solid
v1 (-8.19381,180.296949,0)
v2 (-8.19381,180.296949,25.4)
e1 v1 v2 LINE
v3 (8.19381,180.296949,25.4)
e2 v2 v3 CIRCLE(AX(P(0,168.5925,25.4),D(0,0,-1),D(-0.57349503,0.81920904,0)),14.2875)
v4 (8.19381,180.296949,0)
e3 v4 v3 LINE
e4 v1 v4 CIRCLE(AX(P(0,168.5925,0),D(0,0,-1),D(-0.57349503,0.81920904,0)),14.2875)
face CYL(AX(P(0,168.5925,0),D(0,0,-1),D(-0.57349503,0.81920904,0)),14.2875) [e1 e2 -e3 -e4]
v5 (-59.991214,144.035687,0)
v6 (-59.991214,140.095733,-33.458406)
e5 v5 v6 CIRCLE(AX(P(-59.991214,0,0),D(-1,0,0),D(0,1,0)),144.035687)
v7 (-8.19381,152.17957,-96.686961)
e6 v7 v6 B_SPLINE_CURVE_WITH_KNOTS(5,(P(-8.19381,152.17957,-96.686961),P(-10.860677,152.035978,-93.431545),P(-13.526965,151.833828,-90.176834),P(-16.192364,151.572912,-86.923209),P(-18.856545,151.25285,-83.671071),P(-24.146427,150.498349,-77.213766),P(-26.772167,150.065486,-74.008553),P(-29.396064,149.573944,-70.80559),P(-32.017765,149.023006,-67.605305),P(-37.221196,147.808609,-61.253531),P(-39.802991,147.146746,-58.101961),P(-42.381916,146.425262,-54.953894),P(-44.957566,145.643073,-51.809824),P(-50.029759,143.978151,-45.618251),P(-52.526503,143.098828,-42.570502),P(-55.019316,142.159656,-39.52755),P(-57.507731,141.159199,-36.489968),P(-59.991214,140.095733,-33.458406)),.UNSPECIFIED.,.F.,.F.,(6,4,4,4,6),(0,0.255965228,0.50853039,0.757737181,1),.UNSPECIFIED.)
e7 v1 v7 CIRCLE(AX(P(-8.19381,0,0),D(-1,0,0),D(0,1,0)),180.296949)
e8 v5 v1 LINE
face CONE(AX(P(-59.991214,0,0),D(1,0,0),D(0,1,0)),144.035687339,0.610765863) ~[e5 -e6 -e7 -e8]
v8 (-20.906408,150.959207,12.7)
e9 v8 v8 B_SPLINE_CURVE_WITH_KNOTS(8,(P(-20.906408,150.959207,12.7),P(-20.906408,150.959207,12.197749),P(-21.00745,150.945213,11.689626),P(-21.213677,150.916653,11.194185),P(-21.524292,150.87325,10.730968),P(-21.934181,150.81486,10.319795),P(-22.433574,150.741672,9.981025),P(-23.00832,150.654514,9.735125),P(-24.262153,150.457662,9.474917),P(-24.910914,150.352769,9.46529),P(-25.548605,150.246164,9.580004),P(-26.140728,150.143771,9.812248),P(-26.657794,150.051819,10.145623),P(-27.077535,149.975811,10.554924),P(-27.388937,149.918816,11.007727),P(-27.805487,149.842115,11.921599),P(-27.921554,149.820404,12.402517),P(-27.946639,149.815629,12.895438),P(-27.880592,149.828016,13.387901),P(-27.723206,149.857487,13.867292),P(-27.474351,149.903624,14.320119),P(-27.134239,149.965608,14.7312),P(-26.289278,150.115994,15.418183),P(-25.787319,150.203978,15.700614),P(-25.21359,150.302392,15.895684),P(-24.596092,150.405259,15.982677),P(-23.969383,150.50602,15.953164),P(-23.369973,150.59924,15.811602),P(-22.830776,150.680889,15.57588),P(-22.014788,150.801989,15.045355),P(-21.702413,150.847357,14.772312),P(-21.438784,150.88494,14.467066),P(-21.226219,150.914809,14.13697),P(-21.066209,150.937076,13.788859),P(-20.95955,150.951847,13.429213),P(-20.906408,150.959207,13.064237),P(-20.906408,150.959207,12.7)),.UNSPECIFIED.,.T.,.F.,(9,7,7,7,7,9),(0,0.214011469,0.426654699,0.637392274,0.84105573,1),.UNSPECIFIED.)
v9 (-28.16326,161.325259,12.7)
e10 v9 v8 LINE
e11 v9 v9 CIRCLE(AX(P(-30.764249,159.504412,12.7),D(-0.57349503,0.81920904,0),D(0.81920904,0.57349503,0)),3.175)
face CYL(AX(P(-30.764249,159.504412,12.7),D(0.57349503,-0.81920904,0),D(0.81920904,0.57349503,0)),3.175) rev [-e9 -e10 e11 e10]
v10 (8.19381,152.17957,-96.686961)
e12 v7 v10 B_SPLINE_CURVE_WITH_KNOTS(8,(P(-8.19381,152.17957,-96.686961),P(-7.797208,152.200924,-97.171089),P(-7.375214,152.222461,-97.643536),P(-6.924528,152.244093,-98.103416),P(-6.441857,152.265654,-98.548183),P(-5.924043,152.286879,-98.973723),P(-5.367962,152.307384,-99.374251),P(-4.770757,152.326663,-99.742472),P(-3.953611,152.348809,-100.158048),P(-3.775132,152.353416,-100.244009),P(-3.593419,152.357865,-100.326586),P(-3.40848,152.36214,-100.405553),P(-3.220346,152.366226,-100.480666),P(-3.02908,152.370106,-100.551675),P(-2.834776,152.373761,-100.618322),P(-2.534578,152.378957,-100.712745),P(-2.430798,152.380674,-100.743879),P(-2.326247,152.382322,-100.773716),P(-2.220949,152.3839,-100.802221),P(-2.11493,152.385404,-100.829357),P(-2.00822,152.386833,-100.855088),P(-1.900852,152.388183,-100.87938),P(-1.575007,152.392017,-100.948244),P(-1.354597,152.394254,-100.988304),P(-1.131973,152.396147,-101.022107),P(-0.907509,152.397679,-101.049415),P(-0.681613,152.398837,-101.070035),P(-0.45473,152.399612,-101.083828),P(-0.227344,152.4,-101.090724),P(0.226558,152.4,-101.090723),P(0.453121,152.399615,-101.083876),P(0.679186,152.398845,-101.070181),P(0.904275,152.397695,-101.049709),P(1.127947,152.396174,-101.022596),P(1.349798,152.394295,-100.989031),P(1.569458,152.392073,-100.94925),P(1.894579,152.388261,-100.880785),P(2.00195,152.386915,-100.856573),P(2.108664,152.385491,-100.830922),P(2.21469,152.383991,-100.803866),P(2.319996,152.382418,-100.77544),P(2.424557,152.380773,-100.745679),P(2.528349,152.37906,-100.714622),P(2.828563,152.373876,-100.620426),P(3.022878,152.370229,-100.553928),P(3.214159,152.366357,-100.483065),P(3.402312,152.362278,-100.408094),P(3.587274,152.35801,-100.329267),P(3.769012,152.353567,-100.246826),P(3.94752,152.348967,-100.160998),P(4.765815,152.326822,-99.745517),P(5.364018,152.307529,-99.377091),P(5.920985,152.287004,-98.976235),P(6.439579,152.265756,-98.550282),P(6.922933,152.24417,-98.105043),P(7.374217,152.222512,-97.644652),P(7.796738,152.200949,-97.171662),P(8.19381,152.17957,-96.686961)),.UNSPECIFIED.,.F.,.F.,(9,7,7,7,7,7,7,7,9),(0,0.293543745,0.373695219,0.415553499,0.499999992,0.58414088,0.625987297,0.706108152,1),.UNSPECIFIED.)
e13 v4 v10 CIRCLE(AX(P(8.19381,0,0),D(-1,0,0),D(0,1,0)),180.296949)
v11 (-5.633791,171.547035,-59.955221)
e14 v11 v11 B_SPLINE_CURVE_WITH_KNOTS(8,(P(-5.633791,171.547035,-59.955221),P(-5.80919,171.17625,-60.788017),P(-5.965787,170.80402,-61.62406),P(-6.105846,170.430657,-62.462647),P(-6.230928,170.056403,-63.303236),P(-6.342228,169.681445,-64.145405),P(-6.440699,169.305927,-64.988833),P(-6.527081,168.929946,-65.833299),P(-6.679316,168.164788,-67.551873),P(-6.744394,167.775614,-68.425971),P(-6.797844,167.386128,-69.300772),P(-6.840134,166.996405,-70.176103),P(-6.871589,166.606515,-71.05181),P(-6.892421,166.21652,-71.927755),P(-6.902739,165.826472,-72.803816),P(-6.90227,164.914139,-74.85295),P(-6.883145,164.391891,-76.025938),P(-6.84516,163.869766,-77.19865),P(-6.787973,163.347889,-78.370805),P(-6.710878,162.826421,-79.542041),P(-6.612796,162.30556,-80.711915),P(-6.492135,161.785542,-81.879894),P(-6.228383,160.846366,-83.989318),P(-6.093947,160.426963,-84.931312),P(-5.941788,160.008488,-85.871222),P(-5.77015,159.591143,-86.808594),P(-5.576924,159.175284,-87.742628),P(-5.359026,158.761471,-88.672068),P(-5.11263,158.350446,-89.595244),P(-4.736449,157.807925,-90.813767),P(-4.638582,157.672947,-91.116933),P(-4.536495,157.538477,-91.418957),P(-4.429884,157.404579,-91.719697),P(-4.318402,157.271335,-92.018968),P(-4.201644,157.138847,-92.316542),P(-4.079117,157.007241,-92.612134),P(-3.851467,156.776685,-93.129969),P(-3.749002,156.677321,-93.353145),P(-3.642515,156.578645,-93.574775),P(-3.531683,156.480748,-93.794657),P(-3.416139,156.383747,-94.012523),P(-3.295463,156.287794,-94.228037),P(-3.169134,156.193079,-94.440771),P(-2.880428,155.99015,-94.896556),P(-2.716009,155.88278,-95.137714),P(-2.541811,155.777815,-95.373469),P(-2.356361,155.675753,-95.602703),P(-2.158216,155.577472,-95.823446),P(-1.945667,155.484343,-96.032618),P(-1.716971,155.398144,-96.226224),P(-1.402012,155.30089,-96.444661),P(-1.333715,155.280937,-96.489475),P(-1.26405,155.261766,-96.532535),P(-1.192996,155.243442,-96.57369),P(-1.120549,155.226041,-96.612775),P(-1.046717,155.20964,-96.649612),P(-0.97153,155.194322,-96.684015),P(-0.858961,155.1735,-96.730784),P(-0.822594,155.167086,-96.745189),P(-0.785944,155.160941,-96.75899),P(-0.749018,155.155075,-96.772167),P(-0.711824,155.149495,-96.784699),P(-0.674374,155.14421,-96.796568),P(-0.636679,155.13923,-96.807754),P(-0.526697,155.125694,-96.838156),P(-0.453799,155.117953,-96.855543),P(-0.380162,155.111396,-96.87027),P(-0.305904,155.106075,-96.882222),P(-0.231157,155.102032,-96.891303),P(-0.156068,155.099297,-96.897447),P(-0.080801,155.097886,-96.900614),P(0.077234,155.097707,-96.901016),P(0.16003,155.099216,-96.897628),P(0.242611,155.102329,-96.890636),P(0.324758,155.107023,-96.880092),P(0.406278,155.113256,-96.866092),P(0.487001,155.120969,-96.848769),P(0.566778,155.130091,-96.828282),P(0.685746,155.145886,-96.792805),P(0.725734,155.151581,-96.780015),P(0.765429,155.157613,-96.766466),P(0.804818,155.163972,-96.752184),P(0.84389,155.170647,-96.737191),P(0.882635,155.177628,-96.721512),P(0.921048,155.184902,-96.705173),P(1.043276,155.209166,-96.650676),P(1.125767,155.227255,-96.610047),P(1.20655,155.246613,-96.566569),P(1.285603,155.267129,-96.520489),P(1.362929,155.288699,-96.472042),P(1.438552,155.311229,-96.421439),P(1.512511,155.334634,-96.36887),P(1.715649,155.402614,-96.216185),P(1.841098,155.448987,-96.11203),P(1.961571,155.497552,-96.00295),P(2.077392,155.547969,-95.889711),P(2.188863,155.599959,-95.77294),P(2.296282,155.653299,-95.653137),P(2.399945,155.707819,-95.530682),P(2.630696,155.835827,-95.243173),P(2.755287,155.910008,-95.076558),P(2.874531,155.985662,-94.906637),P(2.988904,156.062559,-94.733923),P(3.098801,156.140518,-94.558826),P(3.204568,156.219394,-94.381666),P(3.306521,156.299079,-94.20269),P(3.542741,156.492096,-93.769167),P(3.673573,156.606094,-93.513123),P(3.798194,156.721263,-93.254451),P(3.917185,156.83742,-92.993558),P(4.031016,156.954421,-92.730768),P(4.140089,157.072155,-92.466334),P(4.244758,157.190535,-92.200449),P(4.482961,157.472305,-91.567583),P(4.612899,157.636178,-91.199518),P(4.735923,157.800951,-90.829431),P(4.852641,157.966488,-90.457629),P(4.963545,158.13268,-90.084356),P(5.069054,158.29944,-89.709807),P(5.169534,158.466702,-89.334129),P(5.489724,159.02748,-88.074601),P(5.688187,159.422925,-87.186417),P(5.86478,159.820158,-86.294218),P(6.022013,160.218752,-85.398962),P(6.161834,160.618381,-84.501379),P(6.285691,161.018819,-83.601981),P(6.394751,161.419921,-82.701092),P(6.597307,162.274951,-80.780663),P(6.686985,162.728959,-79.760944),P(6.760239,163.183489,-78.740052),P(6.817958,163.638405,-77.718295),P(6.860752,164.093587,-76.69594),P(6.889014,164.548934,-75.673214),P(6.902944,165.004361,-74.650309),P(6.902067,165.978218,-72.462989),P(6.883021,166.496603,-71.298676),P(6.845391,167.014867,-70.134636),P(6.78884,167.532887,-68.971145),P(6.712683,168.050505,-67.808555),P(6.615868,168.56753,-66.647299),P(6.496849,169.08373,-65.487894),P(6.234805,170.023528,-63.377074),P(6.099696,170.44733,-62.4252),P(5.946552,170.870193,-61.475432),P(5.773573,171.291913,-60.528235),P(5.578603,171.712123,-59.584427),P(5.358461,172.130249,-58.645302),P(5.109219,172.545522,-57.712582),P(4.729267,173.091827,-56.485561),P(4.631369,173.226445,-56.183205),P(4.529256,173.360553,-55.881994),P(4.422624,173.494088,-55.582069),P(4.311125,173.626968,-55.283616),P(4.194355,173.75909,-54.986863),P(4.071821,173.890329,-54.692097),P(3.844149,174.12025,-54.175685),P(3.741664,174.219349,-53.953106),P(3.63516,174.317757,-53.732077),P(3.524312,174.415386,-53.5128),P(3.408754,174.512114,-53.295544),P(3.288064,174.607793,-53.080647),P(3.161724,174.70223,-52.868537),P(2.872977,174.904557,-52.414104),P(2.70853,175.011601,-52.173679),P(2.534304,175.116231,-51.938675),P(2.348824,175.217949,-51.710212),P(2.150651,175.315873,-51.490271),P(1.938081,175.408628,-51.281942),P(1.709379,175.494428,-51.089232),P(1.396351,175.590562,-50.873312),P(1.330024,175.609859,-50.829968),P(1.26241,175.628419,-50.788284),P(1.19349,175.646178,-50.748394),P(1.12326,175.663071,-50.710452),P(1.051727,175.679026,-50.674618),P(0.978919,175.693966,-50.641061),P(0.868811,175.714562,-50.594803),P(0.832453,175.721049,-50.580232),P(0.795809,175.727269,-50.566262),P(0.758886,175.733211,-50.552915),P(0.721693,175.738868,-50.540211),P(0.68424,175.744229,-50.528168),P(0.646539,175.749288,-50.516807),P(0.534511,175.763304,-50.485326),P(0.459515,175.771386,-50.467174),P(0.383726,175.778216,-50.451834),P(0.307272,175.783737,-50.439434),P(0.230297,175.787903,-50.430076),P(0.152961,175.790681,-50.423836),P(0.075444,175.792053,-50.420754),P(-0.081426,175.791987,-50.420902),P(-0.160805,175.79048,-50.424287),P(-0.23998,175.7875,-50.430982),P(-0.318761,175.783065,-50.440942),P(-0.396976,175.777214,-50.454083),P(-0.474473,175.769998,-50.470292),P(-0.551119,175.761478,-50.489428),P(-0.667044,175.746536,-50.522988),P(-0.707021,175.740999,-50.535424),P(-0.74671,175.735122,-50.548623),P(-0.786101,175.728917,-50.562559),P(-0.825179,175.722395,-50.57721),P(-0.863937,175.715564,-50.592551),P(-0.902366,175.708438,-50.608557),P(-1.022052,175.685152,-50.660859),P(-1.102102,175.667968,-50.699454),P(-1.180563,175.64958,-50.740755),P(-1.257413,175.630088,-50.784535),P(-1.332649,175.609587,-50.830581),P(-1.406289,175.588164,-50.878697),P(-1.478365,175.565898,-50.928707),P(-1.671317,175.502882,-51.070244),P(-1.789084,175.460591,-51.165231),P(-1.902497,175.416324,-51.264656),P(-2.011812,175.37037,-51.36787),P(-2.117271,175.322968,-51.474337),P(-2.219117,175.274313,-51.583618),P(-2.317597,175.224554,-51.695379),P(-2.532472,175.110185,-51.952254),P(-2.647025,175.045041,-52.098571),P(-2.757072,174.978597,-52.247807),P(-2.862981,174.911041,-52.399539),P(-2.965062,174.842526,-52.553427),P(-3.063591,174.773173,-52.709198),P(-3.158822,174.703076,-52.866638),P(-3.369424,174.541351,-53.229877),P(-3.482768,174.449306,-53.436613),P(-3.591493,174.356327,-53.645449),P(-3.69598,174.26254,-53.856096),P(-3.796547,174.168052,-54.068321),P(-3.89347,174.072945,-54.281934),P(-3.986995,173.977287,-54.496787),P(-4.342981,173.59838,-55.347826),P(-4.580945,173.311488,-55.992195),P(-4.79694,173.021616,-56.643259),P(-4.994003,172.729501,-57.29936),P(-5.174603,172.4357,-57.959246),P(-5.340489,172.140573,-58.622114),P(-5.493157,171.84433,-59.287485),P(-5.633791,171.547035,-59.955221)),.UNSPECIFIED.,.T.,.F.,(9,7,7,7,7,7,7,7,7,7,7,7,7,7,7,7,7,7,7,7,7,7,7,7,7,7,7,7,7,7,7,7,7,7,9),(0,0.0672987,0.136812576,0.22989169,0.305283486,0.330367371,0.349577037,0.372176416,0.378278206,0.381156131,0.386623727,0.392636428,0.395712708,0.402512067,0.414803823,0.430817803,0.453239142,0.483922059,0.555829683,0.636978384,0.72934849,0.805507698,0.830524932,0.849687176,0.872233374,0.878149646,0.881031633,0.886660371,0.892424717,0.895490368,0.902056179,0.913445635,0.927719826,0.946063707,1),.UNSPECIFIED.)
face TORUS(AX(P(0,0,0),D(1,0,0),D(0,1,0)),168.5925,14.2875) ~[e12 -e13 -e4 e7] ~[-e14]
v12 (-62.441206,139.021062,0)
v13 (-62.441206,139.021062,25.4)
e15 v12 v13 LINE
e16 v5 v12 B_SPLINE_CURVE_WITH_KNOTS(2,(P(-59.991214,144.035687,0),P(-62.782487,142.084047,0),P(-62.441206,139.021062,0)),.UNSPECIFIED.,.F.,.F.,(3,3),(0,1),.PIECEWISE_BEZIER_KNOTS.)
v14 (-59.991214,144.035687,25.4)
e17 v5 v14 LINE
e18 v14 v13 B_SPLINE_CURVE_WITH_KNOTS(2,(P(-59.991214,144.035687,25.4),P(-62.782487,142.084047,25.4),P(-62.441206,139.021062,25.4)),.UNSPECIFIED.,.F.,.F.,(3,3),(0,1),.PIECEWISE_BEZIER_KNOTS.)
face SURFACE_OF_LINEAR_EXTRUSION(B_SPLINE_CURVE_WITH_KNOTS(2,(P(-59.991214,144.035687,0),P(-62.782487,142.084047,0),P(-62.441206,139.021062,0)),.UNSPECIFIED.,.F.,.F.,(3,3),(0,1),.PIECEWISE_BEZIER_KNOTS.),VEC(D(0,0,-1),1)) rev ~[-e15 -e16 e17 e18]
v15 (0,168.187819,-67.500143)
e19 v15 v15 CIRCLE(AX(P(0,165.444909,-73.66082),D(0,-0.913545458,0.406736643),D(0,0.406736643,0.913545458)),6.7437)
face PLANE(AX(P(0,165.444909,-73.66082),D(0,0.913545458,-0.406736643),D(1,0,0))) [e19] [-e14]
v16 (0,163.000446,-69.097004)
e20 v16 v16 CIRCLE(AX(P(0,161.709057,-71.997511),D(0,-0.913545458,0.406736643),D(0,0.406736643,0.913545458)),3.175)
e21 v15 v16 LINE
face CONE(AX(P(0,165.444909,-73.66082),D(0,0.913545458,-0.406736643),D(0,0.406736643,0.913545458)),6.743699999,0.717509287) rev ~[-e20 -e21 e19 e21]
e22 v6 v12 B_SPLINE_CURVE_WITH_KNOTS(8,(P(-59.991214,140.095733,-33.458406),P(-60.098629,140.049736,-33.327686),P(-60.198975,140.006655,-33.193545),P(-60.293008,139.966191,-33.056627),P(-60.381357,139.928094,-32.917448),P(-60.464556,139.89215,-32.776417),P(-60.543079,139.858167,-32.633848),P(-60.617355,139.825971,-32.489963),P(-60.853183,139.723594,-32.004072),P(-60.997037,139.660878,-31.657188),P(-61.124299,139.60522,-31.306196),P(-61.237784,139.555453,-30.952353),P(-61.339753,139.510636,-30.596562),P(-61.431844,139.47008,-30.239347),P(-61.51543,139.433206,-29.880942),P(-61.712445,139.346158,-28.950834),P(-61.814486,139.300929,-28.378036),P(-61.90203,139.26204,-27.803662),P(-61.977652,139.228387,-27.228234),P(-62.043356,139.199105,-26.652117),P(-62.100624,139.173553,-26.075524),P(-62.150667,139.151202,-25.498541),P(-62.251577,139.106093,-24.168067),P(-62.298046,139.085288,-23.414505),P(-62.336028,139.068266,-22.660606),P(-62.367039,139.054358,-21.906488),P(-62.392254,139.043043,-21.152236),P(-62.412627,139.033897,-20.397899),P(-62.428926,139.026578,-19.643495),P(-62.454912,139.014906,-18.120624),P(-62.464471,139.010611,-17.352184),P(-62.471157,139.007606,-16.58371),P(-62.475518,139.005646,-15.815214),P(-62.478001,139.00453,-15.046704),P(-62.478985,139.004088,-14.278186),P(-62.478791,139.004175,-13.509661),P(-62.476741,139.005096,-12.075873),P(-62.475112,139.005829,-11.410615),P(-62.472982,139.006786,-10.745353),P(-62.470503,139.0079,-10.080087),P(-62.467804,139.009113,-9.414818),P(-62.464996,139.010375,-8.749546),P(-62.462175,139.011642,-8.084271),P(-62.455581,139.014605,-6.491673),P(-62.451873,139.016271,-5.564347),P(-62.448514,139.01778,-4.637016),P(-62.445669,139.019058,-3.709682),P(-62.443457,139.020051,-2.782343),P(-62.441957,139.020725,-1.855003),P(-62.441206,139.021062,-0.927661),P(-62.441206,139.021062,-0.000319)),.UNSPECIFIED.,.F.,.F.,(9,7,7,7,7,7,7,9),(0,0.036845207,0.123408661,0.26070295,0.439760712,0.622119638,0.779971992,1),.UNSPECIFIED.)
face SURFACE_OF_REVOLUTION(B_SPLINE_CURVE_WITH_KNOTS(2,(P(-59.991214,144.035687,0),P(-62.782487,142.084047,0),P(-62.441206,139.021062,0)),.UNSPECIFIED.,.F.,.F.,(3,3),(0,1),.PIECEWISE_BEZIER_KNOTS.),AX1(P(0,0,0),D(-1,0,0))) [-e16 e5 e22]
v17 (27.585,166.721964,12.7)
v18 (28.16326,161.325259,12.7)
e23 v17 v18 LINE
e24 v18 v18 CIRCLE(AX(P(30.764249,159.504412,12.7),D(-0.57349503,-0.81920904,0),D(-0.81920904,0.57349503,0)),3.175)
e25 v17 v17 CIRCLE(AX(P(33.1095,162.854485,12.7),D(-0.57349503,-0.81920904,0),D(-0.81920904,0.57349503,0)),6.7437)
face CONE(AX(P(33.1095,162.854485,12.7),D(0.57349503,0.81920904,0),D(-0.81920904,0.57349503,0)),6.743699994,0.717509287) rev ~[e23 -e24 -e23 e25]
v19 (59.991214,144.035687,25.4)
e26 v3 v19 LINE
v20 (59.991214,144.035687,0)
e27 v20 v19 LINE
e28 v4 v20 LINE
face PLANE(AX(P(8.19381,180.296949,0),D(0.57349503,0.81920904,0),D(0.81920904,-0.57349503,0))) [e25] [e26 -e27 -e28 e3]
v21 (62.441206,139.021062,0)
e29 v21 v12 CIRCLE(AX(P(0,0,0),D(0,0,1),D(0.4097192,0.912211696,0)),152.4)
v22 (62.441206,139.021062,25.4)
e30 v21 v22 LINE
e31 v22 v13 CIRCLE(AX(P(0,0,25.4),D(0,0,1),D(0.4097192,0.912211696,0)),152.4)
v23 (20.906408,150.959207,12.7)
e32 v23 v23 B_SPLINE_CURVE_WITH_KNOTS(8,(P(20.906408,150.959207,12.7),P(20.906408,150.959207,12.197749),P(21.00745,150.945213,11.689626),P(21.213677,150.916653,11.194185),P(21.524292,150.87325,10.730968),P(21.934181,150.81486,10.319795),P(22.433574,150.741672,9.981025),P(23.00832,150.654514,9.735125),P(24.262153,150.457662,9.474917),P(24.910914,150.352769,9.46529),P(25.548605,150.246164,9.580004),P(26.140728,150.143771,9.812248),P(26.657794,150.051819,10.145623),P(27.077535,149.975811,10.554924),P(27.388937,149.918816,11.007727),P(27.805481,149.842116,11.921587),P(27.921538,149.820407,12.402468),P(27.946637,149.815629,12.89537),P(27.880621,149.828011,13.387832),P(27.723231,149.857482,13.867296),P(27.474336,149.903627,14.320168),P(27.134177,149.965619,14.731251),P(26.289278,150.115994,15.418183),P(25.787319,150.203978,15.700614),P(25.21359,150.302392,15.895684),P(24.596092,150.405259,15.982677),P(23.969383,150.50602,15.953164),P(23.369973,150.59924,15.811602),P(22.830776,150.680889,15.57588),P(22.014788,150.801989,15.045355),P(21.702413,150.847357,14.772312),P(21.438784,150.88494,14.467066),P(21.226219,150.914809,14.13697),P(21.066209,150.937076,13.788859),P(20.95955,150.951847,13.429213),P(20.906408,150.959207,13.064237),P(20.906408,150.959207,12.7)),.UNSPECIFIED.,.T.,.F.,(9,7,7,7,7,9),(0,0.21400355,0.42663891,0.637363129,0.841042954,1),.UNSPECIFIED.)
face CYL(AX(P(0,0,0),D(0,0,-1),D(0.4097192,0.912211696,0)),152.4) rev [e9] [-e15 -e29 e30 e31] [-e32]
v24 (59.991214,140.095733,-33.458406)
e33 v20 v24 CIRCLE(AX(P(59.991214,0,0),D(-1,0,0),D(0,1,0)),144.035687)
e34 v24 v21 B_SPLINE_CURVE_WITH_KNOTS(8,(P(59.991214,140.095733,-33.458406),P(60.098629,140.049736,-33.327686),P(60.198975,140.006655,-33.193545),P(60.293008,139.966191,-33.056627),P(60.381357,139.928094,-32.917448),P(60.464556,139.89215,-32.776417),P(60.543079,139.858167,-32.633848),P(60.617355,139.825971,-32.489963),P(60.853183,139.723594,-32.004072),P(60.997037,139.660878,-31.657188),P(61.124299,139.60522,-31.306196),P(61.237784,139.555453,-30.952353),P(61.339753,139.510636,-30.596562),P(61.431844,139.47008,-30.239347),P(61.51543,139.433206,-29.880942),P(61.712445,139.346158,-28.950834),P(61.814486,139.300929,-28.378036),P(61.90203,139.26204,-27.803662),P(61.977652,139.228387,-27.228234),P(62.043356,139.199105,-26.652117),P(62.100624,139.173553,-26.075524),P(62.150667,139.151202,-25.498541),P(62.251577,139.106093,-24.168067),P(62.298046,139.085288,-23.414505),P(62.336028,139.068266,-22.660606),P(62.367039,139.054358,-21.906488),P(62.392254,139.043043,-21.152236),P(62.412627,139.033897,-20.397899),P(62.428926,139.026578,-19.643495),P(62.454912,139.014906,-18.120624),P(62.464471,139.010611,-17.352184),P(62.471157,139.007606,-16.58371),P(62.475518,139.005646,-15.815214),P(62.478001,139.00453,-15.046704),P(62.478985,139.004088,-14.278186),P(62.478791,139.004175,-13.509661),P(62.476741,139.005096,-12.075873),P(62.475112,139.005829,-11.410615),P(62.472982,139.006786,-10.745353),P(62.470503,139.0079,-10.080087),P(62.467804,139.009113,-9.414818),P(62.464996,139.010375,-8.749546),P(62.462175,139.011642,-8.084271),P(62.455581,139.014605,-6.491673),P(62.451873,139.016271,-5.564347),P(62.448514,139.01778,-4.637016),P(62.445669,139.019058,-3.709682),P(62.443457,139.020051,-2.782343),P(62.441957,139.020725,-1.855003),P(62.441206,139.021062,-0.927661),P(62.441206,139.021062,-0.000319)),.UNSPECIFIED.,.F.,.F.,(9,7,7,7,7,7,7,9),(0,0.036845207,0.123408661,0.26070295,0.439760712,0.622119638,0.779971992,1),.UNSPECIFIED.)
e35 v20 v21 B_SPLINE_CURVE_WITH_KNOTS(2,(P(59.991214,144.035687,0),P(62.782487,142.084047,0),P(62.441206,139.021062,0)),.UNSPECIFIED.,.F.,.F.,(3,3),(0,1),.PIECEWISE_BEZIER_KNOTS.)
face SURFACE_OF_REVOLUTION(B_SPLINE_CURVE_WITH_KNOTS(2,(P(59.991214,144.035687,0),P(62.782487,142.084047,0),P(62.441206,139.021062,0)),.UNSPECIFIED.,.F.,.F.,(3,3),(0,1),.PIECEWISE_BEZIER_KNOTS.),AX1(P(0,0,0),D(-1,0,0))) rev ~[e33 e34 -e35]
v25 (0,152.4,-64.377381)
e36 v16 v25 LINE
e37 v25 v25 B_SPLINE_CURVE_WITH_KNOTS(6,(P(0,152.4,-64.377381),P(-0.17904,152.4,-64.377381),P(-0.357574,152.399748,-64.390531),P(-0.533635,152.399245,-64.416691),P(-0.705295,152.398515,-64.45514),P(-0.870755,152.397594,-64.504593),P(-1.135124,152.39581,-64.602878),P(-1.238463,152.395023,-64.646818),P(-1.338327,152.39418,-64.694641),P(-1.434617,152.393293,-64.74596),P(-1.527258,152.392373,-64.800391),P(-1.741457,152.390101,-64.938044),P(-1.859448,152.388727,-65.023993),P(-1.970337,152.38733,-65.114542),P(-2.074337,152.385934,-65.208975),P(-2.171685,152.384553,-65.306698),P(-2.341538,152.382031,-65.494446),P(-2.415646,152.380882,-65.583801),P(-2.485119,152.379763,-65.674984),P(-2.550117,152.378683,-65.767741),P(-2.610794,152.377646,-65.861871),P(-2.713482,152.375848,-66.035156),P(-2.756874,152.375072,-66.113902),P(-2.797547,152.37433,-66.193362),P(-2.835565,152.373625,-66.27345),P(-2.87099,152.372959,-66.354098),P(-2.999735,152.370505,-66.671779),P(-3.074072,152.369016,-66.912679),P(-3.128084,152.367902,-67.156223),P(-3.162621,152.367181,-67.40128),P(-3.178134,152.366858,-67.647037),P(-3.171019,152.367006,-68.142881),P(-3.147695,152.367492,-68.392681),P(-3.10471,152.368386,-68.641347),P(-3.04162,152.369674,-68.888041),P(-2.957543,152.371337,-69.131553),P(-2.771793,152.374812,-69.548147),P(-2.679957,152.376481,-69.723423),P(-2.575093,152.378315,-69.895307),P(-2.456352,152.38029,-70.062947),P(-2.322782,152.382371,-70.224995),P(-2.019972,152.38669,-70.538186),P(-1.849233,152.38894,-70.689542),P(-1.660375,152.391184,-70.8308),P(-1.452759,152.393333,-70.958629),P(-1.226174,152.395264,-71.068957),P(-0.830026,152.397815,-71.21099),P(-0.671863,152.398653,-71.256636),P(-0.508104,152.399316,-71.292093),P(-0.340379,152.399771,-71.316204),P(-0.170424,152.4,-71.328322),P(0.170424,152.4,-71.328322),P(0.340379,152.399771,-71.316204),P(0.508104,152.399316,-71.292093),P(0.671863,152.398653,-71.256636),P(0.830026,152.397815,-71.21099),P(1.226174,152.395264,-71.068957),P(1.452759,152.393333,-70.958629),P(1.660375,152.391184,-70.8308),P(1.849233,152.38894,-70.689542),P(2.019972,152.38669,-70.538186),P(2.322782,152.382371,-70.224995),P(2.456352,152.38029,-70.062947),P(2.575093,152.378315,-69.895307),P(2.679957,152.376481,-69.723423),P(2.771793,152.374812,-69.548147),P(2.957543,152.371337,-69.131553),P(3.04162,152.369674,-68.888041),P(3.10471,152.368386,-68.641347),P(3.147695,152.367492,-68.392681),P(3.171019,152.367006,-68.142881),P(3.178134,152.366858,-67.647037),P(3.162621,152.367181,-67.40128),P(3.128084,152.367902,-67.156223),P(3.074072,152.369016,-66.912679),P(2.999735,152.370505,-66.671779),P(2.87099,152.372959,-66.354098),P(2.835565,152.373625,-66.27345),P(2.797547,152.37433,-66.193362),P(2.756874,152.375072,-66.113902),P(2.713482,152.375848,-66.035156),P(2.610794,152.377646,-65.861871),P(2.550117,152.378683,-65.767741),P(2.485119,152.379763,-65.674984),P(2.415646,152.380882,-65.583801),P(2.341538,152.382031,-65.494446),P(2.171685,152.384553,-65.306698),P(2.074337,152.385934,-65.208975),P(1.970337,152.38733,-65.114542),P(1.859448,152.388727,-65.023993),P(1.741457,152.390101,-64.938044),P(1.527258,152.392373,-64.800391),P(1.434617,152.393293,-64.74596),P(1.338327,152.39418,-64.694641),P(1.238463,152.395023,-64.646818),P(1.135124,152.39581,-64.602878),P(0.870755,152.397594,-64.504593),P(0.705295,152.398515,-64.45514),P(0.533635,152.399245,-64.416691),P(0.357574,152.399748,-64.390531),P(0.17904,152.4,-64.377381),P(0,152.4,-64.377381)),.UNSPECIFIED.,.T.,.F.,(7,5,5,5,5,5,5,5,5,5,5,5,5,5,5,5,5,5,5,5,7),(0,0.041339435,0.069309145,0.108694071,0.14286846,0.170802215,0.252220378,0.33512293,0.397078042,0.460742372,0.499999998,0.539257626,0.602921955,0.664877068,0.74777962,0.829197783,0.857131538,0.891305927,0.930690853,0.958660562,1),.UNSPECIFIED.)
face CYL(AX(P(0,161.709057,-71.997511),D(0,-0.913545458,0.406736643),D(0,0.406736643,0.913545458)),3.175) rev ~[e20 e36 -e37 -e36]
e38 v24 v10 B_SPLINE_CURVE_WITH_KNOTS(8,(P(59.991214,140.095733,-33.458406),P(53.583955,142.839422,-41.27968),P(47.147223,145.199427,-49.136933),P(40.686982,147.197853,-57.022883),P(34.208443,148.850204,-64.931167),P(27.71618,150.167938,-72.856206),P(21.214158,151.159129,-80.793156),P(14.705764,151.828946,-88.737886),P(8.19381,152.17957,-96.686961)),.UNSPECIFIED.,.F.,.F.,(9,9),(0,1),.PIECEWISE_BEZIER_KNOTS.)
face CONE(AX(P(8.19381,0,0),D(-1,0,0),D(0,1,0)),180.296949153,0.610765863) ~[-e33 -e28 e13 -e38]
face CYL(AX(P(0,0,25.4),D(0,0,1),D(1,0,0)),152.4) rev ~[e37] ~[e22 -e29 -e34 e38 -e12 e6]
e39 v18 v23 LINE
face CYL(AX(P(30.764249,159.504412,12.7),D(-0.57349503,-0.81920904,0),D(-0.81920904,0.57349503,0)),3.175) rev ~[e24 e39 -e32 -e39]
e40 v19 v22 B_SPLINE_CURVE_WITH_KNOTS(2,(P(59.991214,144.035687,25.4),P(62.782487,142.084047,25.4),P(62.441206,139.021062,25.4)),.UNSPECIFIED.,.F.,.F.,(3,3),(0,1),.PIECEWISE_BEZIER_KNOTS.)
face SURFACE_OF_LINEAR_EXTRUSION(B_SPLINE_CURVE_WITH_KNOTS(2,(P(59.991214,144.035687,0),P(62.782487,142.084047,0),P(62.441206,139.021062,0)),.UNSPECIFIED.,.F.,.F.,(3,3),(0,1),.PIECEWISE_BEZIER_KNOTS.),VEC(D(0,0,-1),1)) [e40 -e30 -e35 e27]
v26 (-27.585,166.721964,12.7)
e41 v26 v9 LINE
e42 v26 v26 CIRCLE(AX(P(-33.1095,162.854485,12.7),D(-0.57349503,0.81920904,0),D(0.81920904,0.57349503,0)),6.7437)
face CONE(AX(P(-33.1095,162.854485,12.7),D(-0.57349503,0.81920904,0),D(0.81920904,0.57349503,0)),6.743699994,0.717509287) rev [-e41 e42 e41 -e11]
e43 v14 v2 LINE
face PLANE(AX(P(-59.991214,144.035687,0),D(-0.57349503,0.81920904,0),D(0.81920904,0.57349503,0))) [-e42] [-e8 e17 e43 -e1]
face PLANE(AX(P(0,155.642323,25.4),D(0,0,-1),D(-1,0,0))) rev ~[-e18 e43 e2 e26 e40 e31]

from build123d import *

# Parameters (mm, degrees)
REVOLVE1_ANGLE      = 57
BOSS_EXTRUDE1_DEPTH = 25.4
SKETCH8_R           = 152.4
CUT_EXTRUDE3_DEPTH  = 257.048
SKETCH13_W          = 16.387620484
SKETCH13_H          = 127
CUT_EXTRUDE5_DEPTH  = 1.778


with BuildPart() as part:
    # Sketch1 → Revolve1 (revolve)
    with BuildSketch(Plane.XY):
        with BuildLine():
            Line((-59.991213716, 144.035687339), (-8.193810242, 180.296949153))
            ThreePointArc((-8.193810242, 180.296949153), (0, 182.88), (8.193810242, 180.296949153))
            Line((8.193810242, 180.296949153), (59.991213716, 144.035687339))
            add(Edge.make_bspline(
                [(59.991213716, 144.035687339), (62.78248672, 142.0840471), (62.441206007, 139.021062406)],
                knots=[0, 0, 0, 1, 1, 1], degree=2))
            ThreePointArc((62.441206007, 139.021062406), (0, 152.4), (-62.441206007, 139.021062406))
            add(Edge.make_bspline(
                [(-59.991213716, 144.035687339), (-62.78248672, 142.0840471), (-62.441206007, 139.021062406)],
                knots=[0, 0, 0, 1, 1, 1], degree=2))
        make_face()
    revolve(axis=Axis((0, 0, 0), (-1, 0, 0)), revolution_arc=REVOLVE1_ANGLE)

    # Sketch3 → Boss-Extrude1 (add)
    with BuildSketch(Plane.XY):
        with BuildLine():
            Line((-59.991213716, 144.035687339), (-8.193810242, 180.296949153))
            ThreePointArc((-8.193810242, 180.296949153), (0, 182.88), (8.193810242, 180.296949153))
            Line((8.193810242, 180.296949153), (59.991213716, 144.035687339))
            add(Edge.make_bspline(
                [(59.991213716, 144.035687339), (62.78248672, 142.0840471), (62.441206007, 139.021062406)],
                knots=[0, 0, 0, 1, 1, 1], degree=2))
            ThreePointArc((62.441206007, 139.021062406), (0, 152.4), (-62.441206007, 139.021062406))
            add(Edge.make_bspline(
                [(-59.991213716, 144.035687339), (-62.78248672, 142.0840471), (-62.441206007, 139.021062406)],
                knots=[0, 0, 0, 1, 1, 1], degree=2))
        make_face()
    extrude(amount=BOSS_EXTRUDE1_DEPTH)

    # Sketch7 → Cut-Revolve2 (revolve, cut)
    with BuildSketch(Plane.XY.offset(12.7)):
        Polygon((-18.85509192, 148.029004366), (-21.456080621, 146.208157646), (-33.109499632, 162.854485329), (-27.584999632, 166.721963764), (-28.163260355, 161.325258604), align=None)
    cut_revolve2 = revolve(axis=Axis((-21.456080621, 146.208157646, 12.7), (-0.57349503, 0.81920904, 0)), mode=Mode.SUBTRACT)

    # Mirror2: Cut-Revolve2 across plane
    add(cut_revolve2.mirror(Plane(origin=(0, 0, 0), x_dir=(0, 0, 1), z_dir=(1, 0, 0))), mode=Mode.SUBTRACT)

    # Sketch8 → Cut-Extrude3 (cut)
    with BuildSketch(Plane.XY.offset(25.4)):
        Circle(SKETCH8_R)
    extrude(amount=-CUT_EXTRUDE3_DEPTH, mode=Mode.SUBTRACT)

    # Sketch13 → Cut-Extrude5 (cut)
    with BuildSketch(Plane(origin=(0, 167.069193294, -74.383997286), x_dir=(1, 0, 0), z_dir=(0, 0.913545458, -0.406736643))):
        Rectangle(SKETCH13_W, SKETCH13_H)
    extrude(amount=-CUT_EXTRUDE5_DEPTH, mode=Mode.SUBTRACT)

    # Sketch14 → Cut-Revolve4 (revolve, cut)
    with BuildSketch(Plane(origin=(0, 0, 0), x_dir=(0, 0, -1), z_dir=(1, 0, 0))):
        Polygon((73.660819534, 165.44490947), (67.500143032, 168.18781937), (69.097003878, 163.000445517), (60.429201972, 143.532243688), (63.3297088, 142.240854846), align=None)
    revolve(axis=Axis((0, 165.44490947, -73.660819534), (0, -0.913545458, 0.406736643)), mode=Mode.SUBTRACT)


solid = part.part
